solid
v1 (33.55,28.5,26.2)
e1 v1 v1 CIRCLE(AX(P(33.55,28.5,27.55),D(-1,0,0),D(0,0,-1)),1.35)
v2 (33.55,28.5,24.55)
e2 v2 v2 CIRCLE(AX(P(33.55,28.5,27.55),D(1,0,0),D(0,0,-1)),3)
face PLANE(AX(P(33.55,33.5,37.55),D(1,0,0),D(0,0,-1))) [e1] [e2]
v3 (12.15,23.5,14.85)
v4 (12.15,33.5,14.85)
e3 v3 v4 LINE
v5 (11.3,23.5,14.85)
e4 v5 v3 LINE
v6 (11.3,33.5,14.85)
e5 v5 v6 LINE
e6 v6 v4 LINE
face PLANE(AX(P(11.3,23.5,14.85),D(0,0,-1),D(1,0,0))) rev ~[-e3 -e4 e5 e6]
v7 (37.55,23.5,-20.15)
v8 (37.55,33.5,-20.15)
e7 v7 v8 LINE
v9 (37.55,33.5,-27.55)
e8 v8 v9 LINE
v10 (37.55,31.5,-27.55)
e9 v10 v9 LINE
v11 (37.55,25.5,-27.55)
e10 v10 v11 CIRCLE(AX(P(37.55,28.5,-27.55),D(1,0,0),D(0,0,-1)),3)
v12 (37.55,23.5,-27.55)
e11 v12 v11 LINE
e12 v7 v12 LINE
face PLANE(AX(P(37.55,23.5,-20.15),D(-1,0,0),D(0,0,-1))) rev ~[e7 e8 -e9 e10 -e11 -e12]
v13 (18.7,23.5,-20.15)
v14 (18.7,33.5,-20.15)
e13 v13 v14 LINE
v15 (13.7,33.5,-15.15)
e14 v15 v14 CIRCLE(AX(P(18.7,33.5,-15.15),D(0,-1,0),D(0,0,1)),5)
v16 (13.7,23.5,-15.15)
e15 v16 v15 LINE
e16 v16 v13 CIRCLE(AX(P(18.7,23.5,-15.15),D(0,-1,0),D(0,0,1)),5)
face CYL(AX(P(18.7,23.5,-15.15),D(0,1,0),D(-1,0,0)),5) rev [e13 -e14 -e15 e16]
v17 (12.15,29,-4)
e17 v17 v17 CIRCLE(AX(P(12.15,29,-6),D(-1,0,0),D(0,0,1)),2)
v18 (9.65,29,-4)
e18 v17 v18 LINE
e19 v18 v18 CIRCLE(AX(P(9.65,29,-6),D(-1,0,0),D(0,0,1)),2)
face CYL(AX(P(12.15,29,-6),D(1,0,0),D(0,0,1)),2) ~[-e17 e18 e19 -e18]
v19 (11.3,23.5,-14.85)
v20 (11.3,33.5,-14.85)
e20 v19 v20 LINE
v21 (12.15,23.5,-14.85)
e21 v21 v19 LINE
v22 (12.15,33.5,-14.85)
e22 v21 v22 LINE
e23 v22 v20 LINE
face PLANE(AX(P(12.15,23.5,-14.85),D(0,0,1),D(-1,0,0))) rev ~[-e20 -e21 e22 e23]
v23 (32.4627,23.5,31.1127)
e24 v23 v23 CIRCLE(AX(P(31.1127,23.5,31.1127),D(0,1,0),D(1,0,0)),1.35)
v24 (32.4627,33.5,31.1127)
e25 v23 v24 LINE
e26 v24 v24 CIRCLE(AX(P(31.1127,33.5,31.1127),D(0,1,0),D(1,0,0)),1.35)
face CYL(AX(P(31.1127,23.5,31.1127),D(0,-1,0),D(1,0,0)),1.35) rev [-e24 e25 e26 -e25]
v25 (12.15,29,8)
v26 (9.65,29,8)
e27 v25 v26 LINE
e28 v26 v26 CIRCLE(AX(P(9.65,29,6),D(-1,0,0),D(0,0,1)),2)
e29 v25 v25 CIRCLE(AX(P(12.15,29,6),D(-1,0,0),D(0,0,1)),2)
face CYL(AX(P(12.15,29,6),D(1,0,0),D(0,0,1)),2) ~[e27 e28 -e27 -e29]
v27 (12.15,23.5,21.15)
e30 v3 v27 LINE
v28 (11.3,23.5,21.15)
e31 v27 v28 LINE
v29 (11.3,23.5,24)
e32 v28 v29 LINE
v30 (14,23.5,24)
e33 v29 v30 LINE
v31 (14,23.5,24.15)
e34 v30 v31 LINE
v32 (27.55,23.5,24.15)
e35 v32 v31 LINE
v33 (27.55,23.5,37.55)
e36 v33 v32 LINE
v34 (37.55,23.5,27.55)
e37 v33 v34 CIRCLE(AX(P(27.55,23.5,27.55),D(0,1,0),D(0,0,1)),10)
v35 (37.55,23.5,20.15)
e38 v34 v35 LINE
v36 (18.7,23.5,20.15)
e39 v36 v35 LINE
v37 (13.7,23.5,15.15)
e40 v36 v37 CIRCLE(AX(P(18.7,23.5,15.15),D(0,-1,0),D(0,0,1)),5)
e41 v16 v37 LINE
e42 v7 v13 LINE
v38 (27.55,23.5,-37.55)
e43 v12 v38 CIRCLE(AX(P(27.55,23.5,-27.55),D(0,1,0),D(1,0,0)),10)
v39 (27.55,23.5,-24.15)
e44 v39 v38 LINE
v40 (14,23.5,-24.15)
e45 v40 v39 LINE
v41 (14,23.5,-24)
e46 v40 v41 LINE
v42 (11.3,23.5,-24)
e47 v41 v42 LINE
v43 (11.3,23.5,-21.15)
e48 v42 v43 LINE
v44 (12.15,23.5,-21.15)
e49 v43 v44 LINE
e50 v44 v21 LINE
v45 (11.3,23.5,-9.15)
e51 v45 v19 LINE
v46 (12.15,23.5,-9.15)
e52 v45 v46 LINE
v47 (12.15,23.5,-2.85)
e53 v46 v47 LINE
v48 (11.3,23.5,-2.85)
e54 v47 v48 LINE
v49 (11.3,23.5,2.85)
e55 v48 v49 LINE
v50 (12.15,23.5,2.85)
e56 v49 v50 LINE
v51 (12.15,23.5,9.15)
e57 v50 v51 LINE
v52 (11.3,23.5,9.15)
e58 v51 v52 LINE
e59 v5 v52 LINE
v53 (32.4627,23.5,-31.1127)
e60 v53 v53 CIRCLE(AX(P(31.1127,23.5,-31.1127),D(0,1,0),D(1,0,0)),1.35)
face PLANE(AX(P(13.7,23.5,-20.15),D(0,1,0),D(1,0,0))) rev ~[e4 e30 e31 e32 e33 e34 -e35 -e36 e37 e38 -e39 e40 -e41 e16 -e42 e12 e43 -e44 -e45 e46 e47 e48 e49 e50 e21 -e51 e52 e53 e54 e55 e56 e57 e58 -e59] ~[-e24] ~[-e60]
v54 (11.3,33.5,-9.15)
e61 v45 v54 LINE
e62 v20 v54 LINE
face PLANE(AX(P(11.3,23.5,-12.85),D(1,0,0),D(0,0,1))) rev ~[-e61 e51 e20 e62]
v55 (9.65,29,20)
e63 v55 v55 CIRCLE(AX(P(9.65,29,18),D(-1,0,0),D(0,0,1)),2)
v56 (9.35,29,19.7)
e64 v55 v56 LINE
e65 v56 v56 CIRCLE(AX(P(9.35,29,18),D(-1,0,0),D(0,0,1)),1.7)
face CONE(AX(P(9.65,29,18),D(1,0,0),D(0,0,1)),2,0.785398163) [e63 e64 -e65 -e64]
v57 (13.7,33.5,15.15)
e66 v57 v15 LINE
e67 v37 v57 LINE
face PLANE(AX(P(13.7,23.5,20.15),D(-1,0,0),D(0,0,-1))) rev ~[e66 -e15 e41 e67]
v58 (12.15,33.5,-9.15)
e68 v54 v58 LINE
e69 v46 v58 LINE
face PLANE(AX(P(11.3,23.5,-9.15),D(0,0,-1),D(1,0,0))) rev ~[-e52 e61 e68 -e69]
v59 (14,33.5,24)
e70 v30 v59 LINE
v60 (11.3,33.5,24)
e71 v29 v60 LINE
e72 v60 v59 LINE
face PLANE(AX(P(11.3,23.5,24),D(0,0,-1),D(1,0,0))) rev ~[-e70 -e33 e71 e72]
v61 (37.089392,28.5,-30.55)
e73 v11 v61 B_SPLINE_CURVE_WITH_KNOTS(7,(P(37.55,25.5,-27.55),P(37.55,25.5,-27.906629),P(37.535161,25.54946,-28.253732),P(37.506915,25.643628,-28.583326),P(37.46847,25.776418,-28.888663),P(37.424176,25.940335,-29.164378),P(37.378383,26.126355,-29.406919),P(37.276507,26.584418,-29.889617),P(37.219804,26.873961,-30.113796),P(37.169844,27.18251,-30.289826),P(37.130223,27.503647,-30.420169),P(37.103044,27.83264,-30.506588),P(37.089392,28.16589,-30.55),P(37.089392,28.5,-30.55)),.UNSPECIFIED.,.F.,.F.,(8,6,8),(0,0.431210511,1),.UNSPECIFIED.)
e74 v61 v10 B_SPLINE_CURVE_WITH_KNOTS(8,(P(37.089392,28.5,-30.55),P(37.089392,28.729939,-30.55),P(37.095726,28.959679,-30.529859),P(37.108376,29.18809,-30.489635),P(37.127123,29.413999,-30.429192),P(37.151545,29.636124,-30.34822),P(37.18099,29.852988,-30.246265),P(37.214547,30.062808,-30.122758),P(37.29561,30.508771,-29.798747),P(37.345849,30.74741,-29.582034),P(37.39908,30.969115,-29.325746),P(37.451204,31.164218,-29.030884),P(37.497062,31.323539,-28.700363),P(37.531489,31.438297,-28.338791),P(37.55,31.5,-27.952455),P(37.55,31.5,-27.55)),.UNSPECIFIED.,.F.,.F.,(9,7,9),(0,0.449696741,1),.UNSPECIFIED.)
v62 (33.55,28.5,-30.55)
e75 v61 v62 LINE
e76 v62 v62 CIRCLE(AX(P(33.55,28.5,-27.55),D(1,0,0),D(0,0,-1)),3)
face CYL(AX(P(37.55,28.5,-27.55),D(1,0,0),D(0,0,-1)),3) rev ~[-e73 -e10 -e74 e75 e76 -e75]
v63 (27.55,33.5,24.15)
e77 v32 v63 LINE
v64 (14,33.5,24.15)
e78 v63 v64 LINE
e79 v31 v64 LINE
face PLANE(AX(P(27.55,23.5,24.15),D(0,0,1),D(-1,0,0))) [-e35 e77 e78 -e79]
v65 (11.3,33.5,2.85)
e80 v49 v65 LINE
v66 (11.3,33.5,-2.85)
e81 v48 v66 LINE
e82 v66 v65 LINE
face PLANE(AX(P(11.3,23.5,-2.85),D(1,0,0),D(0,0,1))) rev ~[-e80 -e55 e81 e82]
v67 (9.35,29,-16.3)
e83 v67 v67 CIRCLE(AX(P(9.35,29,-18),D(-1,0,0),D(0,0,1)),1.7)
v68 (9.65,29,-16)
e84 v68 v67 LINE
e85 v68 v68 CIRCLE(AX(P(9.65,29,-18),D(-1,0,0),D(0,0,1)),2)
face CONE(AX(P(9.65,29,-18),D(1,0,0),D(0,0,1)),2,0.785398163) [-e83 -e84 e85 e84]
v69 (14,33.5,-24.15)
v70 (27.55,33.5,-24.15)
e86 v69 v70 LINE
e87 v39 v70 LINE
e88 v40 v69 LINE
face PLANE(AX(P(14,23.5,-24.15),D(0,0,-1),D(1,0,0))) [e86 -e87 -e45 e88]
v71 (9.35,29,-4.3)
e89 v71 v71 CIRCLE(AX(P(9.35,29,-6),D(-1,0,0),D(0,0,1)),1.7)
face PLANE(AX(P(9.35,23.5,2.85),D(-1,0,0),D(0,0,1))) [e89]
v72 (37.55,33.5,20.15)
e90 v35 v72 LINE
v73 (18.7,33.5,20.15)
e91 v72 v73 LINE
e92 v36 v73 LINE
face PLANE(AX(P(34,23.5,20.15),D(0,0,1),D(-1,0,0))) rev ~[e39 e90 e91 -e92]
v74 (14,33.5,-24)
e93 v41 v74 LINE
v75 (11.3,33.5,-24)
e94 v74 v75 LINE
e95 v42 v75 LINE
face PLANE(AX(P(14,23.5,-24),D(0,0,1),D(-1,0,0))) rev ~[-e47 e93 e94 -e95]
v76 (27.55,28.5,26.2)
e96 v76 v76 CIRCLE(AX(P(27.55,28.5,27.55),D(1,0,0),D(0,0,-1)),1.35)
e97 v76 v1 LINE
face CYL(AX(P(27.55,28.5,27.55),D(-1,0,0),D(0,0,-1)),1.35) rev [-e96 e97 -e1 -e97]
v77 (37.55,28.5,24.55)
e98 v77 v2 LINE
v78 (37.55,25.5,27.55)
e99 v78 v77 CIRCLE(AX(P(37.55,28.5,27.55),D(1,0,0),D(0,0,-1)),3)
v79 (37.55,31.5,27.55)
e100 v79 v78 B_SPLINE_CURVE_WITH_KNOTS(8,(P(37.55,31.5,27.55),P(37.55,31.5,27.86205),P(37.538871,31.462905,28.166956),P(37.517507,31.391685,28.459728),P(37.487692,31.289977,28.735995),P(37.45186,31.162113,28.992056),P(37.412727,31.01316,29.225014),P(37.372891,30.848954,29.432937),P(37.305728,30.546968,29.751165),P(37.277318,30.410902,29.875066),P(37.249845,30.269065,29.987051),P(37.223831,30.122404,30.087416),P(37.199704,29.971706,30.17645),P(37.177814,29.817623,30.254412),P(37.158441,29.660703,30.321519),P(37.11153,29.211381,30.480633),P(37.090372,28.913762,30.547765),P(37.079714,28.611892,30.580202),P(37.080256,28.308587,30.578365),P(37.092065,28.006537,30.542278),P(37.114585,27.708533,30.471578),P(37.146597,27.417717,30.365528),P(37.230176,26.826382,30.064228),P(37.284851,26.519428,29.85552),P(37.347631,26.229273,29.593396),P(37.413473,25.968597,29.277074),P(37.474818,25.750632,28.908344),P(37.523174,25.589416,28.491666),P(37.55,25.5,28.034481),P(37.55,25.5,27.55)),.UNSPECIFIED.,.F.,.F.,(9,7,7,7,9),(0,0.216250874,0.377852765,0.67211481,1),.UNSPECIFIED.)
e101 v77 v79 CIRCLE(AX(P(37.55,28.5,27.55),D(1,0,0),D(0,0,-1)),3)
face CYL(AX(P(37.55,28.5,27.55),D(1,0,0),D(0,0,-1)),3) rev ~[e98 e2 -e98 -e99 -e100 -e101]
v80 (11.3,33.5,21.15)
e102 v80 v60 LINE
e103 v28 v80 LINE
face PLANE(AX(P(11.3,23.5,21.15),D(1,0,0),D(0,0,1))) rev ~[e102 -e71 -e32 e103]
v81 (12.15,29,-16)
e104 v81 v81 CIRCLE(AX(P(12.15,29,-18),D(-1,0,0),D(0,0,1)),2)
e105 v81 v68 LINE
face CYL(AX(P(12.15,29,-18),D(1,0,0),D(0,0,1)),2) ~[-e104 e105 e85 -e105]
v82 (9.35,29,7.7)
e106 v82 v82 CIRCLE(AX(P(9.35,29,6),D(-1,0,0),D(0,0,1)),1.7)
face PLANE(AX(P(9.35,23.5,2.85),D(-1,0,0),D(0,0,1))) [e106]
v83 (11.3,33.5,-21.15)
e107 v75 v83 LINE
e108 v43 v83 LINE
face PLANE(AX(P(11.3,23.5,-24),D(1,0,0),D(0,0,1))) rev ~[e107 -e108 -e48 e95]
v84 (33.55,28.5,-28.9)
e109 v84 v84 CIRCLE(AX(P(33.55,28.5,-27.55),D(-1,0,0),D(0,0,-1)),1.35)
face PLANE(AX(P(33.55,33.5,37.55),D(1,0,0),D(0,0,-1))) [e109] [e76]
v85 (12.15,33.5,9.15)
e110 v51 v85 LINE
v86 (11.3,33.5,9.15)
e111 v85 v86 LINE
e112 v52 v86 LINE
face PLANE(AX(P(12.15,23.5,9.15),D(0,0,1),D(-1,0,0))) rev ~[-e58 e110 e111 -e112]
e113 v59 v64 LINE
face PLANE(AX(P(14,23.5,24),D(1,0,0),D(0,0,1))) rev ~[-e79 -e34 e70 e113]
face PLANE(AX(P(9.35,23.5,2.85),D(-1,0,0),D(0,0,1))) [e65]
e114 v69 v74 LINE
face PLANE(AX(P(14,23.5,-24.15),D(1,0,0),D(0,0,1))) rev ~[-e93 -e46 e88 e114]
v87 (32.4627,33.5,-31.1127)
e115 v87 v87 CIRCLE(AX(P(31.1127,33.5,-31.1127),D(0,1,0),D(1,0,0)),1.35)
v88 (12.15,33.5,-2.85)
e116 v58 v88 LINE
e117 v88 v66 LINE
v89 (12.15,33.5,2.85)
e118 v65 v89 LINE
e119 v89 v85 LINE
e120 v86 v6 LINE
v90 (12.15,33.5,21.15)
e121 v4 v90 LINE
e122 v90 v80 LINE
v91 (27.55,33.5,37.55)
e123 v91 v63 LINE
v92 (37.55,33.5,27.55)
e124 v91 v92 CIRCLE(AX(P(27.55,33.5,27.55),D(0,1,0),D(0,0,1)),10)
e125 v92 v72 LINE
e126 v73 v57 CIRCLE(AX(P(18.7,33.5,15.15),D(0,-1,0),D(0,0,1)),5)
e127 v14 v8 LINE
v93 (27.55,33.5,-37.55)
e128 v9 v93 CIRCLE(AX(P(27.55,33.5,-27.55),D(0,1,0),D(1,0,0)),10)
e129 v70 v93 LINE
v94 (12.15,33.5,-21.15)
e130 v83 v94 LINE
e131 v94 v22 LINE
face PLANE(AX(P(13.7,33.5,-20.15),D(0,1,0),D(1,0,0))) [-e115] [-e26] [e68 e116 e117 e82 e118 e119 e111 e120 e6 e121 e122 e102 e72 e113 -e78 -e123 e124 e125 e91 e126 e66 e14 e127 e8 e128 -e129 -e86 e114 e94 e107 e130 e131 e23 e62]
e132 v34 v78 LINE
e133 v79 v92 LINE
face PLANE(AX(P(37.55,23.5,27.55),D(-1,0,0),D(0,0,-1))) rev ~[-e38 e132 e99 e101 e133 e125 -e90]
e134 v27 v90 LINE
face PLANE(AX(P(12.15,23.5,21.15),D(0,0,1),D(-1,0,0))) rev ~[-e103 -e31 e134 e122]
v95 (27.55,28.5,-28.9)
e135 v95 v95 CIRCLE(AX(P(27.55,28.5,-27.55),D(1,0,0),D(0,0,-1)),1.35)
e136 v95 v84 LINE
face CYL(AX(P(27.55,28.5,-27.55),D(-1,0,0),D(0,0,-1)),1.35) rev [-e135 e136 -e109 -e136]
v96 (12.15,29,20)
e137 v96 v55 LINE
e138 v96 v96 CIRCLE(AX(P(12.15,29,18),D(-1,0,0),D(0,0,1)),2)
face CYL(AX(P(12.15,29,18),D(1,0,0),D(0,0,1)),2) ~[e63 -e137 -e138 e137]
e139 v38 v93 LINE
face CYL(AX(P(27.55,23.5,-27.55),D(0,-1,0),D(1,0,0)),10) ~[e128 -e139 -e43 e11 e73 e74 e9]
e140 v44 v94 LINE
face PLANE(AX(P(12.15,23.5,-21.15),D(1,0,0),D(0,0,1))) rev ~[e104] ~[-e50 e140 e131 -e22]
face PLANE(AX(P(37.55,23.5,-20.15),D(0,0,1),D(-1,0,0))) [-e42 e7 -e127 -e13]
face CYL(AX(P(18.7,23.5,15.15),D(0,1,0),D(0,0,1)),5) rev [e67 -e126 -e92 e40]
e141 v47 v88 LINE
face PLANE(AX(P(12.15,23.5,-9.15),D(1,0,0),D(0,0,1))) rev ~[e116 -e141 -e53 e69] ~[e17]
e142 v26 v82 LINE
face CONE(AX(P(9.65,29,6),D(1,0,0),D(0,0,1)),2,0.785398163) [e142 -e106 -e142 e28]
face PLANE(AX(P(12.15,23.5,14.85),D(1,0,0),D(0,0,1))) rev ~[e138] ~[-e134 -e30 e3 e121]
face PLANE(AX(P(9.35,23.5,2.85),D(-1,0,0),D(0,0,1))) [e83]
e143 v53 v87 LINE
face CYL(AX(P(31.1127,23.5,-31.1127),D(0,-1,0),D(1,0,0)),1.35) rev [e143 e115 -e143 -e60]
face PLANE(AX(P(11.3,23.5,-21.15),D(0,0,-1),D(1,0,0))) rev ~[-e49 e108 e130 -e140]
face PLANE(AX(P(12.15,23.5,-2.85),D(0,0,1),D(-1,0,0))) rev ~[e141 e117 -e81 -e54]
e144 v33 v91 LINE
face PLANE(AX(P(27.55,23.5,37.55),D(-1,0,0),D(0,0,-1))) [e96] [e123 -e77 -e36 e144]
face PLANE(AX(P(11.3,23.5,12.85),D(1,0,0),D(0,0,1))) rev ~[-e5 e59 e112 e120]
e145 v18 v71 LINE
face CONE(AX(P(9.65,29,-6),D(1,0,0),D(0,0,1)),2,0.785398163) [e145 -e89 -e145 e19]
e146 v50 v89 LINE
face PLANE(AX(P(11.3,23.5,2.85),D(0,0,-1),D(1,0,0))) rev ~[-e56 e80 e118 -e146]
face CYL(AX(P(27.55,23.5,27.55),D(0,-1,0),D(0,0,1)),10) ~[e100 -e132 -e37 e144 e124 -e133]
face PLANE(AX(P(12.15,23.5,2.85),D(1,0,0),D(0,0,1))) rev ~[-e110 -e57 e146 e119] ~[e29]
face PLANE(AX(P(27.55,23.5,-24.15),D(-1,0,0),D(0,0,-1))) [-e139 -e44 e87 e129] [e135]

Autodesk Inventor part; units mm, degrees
ref_plane "YZ Plane" through (0, 0, 0) normal (1, 0, 0) x (0, 1, 0)
ref_plane "XZ Plane" through (0, 0, 0) normal (0, 1, 0) x (-1, 0, 0)
ref_plane "XY Plane" through (0, 0, 0) normal (0, 0, 1) x (1, 0, 0)
sketch "スケッチ1" plane through (0, 0, 0) normal (0, 1, 0) x (-1, 0, 0)
  line L0 (37.55, 37.55) -> (-37.55, 37.55)
  line L1 (-37.55, 37.55) -> (-37.55, -37.55)
  line L2 (-37.55, -37.55) -> (37.55, -37.55)
  line L3 (37.55, -37.55) -> (37.55, 37.55)
  line L4 (37.55, 37.55) -> (-37.55, -37.55) construction
  line L5 (-37.55, 37.55) -> (37.55, -37.55) construction
  line L6 (36.55, 36.55) -> (-36.55, 36.55)
  line L7 (-36.55, 36.55) -> (-36.55, -36.55)
  line L8 (-36.55, -36.55) -> (36.55, -36.55)
  line L9 (36.55, -36.55) -> (36.55, 36.55)
  line L10 (52.57, 0) -> (-52.57, 0) construction
  line L11 (0, -52.57) -> (0, 52.57) construction
  line L12 (14, -25) -> (-14, -25)
  line L13 (-14, -25) -> (-14, -35.5)
  line L14 (-14, -35.5) -> (14, -35.5)
  line L15 (14, -35.5) -> (14, -25)
  line L16 (14, -25) -> (-14, -35.5) construction
  line L17 (-14, -25) -> (14, -35.5) construction
  line L18 (0, 37.55) -> (0, -37.55) construction
  circle A0 centre (-13.68, -10.17) radius 1.6
  line L19 (14, -30.25) -> (-14, -30.25) construction
  line L20 (-11.15, 0) -> (-11.15, -24)
  line L21 (11.15, -24) -> (11.15, 0)
  line L22 (-11.15, 12.7) -> (-36.55, 12.7)
  line L23 (-36.55, 12.7) -> (-36.55, -12.7) construction
  line L24 (-36.55, -12.7) -> (-11.15, -12.7)
  line L25 (-11.15, -12.7) -> (-11.15, 12.7) construction
  line L26 (-11.15, 12.7) -> (-36.55, -12.7) construction
  line L27 (-36.55, 12.7) -> (-11.15, -12.7) construction
  line L28 (-13.68, 10.17) -> (-34.02, 10.17) construction
  line L29 (-34.02, 10.17) -> (-34.02, -10.17) construction
  line L30 (-34.02, -10.17) -> (-13.68, -10.17) construction
  line L31 (-13.68, -10.17) -> (-13.68, 10.17) construction
  line L32 (-13.68, 10.17) -> (-34.02, -10.17) construction
  line L33 (-34.02, 10.17) -> (-13.68, -10.17) construction
  circle A1 centre (-13.68, 10.17) radius 1.6
  circle A2 centre (-34.02, 10.17) radius 1.6
  circle A3 centre (-34.02, -10.17) radius 1.6
  line L34 (11.15, 0) -> (-11.15, 0) construction
  line L35 (11.15, -24) -> (-11.15, -24)
  line L36 (8.8, -24) -> (-8.8, -24) construction
  line L37 (-8.8, -24) -> (-8.8, -27)
  line L38 (-8.8, -27) -> (8.8, -27)
  line L39 (8.8, -27) -> (8.8, -24)
  line L40 (8.8, -24) -> (-8.8, -27) construction
  line L41 (-8.8, -24) -> (8.8, -27) construction
  line L42 (11.15, -3) -> (12, -3)
  line L43 (12, -3) -> (12, -9)
  line L44 (12, -9) -> (11.15, -9)
  line L45 (11.15, -12) -> (-11.15, -12) construction
  line L46 (12, -6) -> (-12, -6) construction
  line L47 (11.15, -21) -> (12, -21)
  line L48 (12, -21) -> (12, -15)
  line L49 (12, -15) -> (11.15, -15)
  line L50 (-11.15, -3) -> (-12, -3)
  line L51 (-12, -3) -> (-12, -9)
  line L52 (-12, -9) -> (-11.15, -9)
  line L53 (-12, -15) -> (-11.15, -15)
  line L54 (-12, -21) -> (-12, -15)
  line L55 (-11.15, -21) -> (-12, -21)
  line L56 (14, 25) -> (-14, 25)
  line L57 (-14, 25) -> (-14, 35.5)
  line L58 (-14, 35.5) -> (14, 35.5)
  line L59 (14, 35.5) -> (14, 25)
  line L60 (-11.15, 0) -> (-11.15, 24)
  line L61 (11.15, 24) -> (11.15, 0)
  line L62 (11.15, 24) -> (-11.15, 24)
  line L63 (8.8, 24) -> (-8.8, 24) construction
  line L64 (-8.8, 24) -> (-8.8, 27)
  line L65 (-8.8, 27) -> (8.8, 27)
  line L66 (8.8, 27) -> (8.8, 24)
  line L67 (11.15, 3) -> (12, 3)
  line L68 (12, 3) -> (12, 9)
  line L69 (12, 9) -> (11.15, 9)
  line L70 (12, 15) -> (11.15, 15)
  line L71 (12, 21) -> (12, 15)
  line L72 (11.15, 21) -> (12, 21)
  line L73 (-12, 3) -> (-12, 9)
  line L74 (-11.15, 3) -> (-12, 3)
  line L75 (-12, 9) -> (-11.15, 9)
  line L76 (-12, 21) -> (-12, 15)
  line L77 (-12, 15) -> (-11.15, 15)
  line L78 (-11.15, 21) -> (-12, 21)
  line L79 (15, 33.5) -> (29, 33.5)
  line L80 (29, 33.5) -> (29, -33.5)
  line L81 (29, -33.5) -> (15, -33.5)
  line L82 (15, -33.5) -> (15, 33.5)
  line L83 (15, 33.5) -> (29, -33.5) construction
  line L84 (29, 33.5) -> (15, -33.5) construction
  line L85 (-33.85, 20) -> (-13.85, 20)
  line L86 (-13.85, 20) -> (-13.85, -20)
  line L87 (-13.85, -20) -> (-33.85, -20)
  line L88 (-33.85, -20) -> (-33.85, 20)
  line L89 (-33.85, 20) -> (-13.85, -20) construction
  line L90 (-13.85, 20) -> (-33.85, -20) construction
  line L91 (37.55, 25.5) -> (15, 25.5) construction
  circle A4 centre (-21, -30.25) radius 3.1
  line L92 (-21, -37.55) -> (-21, 37.55) construction
  circle A5 centre (-21, 30.25) radius 3.1
  circle A6 centre (21, -30.25) radius 3.1
  circle A7 centre (21, 30.25) radius 3.1
  circle A8 centre (-21, -30.25) radius 4.1
  circle A9 centre (-21, 30.25) radius 4.1
  circle A10 centre (21, -30.25) radius 4.1
  circle A11 centre (21, 30.25) radius 4.1
  circle A12 centre (33, 0) radius 2.6
  circle A13 centre (33, 0) radius 3.5
  circle A14 centre (-33, 0) radius 2.6
  circle A15 centre (-33, 0) radius 3.5
  line L93 (-27.85, 4) -> (-19.85, 4)
  line L94 (-19.85, 4) -> (-19.85, -4)
  line L95 (-19.85, -4) -> (-27.85, -4)
  line L96 (-27.85, -4) -> (-27.85, 4)
  line L97 (-27.85, 4) -> (-19.85, -4) construction
  line L98 (-19.85, 4) -> (-27.85, -4) construction
  line L99 (26, -34) -> (18, -34)
  line L100 (18, -34) -> (18, -33.5)
  line L101 (18, -33.5) -> (26, -33.5) construction
  line L102 (26, -33.5) -> (26, -34)
  line L103 (26, -34) -> (18, -33.5) construction
  line L104 (18, -34) -> (26, -33.5) construction
  line L105 (22, -33.5) -> (22, 33.5) construction
  line L106 (-11.15, 24) -> (-11.15, 25)
  line L107 (11.15, 24) -> (11.15, 25)
  line L108 (11.15, -24) -> (11.15, -25)
  line L109 (-11.15, -24) -> (-11.15, -25)
  line L110 (14, 25) -> (14, 24)
  line L111 (14, 24) -> (11.15, 24)
  line L112 (-11.15, 24) -> (-14, 24)
  line L113 (-14, 24) -> (-14, 25)
  line L114 (14, -25) -> (14, -24)
  line L115 (14, -24) -> (11.15, -24)
  line L116 (-11.15, -24) -> (-14, -24)
  line L117 (-14, -24) -> (-14, -25)
  point P0 (0, 0)
  point P1 (0, -30.25)
  point P2 (-23.85, 0)
  point P3 (0, -25.5)
  point P4 (0, 0)
  point P5 (0, -6)
  point P6 (-12, 6)
  point P7 (12, 6)
  point P8 (22, 0)
  point P9 (-23.85, 0)
  point P10 (22, -33.75)
  dimension "d1" = 1
  dimension "d2" = 10.5
  dimension "d3" = 28
  dimension "d5" = 3.2
  dimension "d11" = 25.4
  dimension "d12" = 20.34
  dimension "d15" = 360
  dimension "d18" = 22.3
  dimension "d19" = 17.6
  dimension "d20" = 27
  dimension "d21" = 24
  dimension "d22" = 1
  dimension "d25" = 24
  dimension "d26" = 12
  dimension "d27" = 6
  dimension "d32" = 67
  dimension "d33" = 14
  dimension "d34" = 1
  dimension "d35" = 40
  dimension "d36" = 20
  dimension "d41" = 8
  dimension "d47" = 6.2
  dimension "d48" = 7
  dimension "d49" = 1
  dimension "d54" = 5.2
  dimension "d55" = 7
  dimension "d56" = 33
  dimension "d86" = 8
  dimension "d110" = 8
  dimension "d111" = 0.5
extrude "押し出し3" add sketch "スケッチ1" along normal blind 33.5 contours L3 L2 L1 L0 | L9 L8 L7 L24 L88 L87 L86 L20 L53 L54 L55 L116 L117 L13 L14 L15 L114 L115 L21 L47 L48 L49 L44 L43 L42 L61 L67 L68 L69 L70 L71 L72 L111 L110 L59 L58 L57 L113 L112 L60 L78 L76 L77 L22 L85 L6 | L22 L88 A2 A15 A3 L24 L7 | L88 L85 L86 L22 | L22 L86 A1 A0 L24 L88 A3 A15 A2 | L24 L86 L87 L88 | L22 L60 L75 L73 L74 L20 L50 L51 L52 L24 L86 A0 A1 | L88 A2 | A2 L88 | L88 A3 | A3 L88 | L60 L62 L61 L21 L35 L20 | L86 A1 | A1 L86 | L86 A0 | A0 L86 | L60 L74 L73 L75 | L77 L76 L78 L60 | A15 L88 A14 | L88 A14 A15 | L52 L51 L50 L20 | L20 L55 L54 L53 | A14 L88 | L88 A14 | L106 L56 L64 L62 | L112 L113 L56 L106 | L35 L37 L12 L109 | L109 L12 L117 L116 | L64 L56 L66 L62 | L56 L57 L58 L59 L66 L65 L64 | L35 L39 L12 L37 | L12 L37 L38 L39 L15 L14 L13 | L66 L56 L107 L62 | L64 L65 L66 L56 | L35 L108 L12 L39 | L12 L39 L38 L37 | L107 L56 L110 L111 | L115 L114 L12 L108 | L72 L71 L70 L61 | L21 L49 L48 L47 | L69 L68 L67 L61 | L21 L42 L43 L44 | L79 A11 L80 L81 A10 L82 | A11 L79 | L79 A11 | L81 A10 L99 L100 | A10 L81 | L81 A10 L99 | L81 L102 L99 A10 | L99 A10 | A4 | A5 | A6 | A7 | A8 | A9 | A12 | A13 | L93 L94 L95 L96
fillet "フィレット1" radius 10 4 edges at (37.55, 16.75, 37.55) (37.55, 16.75, -37.55) (-37.55, 16.75, -37.55) (-37.55, 16.75, 37.55)
extrude "押し出し11" cut sketch "スケッチ1" along normal through all contours L56 L57 L58 L59 L66 L65 L64 | L12 L37 L38 L39 L15 L14 L13 | L64 L65 L66 L56 | L12 L39 L38 L37
extrude "押し出し12" cut sketch "スケッチ1" along normal blind 1.5 contours A4 | A5 | A6 | A7
extrude "押し出し13" cut sketch "スケッチ1" along normal blind 1.5 contours A14 L88 | L88 A14 | A12
sketch "スケッチ5" plane through (0, 0, 0) normal (0, 1, 0) x (-1, 0, 0)
  line L0 (-12, 9) -> (-11.15, 9) projected
  line L1 (-11.15, 0) -> (-11.15, 24) projected
  line L2 (-12, 3) -> (-12, 9) projected
  line L3 (-11.15, 3) -> (-12, 3) projected
  line L4 (-12, 15) -> (-11.15, 15) projected
  line L5 (-12, 21) -> (-12, 15) projected
  line L6 (11.15, 3) -> (12, 3) projected
  line L7 (-11.15, 21) -> (-12, 21) projected
  line L8 (11.15, 21) -> (12, 21) projected
  line L9 (11.15, 24) -> (-11.15, 24) projected
  line L10 (-8.8, 24) -> (-8.8, 27) projected
  line L11 (8.8, 24) -> (-8.8, 24) construction
  line L12 (8.8, 27) -> (8.8, 24) projected
  line L13 (-8.8, 27) -> (8.8, 27) projected
  line L14 (11.15, 0) -> (-11.15, 0) construction
  line L15 (11.15, -12) -> (-11.15, -12) construction
  line L16 (12, -9) -> (11.15, -9) projected
  line L17 (11.15, -3) -> (12, -3) projected
  line L18 (12, -3) -> (12, -9) projected
  line L19 (12, -6) -> (-12, -6) construction
  line L20 (-12, -9) -> (-11.15, -9) projected
  line L21 (-12, -3) -> (-12, -9) projected
  line L22 (-11.15, -3) -> (-12, -3) projected
  line L23 (-11.15, -12.7) -> (-11.15, 12.7) construction
  line L24 (-11.15, 0) -> (-11.15, -24) projected
  line L25 (11.15, -24) -> (11.15, 0) projected
  line L26 (12, -15) -> (11.15, -15) projected
  line L27 (12, -21) -> (12, -15) projected
  line L28 (12, 9) -> (11.15, 9) projected
  line L29 (12, 3) -> (12, 9) projected
  line L30 (12, 15) -> (11.15, 15) projected
  line L31 (12, 21) -> (12, 15) projected
  line L32 (11.15, 24) -> (11.15, 0) projected
  line L33 (11.15, -24) -> (-11.15, -24) projected
  line L34 (8.8, -24) -> (-8.8, -24) construction
  line L35 (-12, -15) -> (-11.15, -15) projected
  line L36 (-12, -21) -> (-12, -15) projected
  line L37 (-11.15, -21) -> (-12, -21) projected
  line L38 (11.15, -21) -> (12, -21) projected
  line L39 (-8.8, -27) -> (8.8, -27) projected
  line L40 (-8.8, -24) -> (-8.8, -27) projected
  line L41 (8.8, -27) -> (8.8, -24) projected
  line L42 (-11.15, -14.85) -> (-12.15, -14.85)
  line L43 (-12.15, -14.85) -> (-12.15, -21.15)
  line L44 (-12.15, -21.15) -> (-11.15, -21.15)
  line L45 (-11.15, -9.15) -> (-12.15, -9.15)
  line L46 (-12.15, -9.15) -> (-12.15, -2.85)
  line L47 (-12.15, -2.85) -> (-11.15, -2.85)
  line L48 (11.15, -14.85) -> (12.15, -14.85)
  line L49 (12.15, -14.85) -> (12.15, -21.15)
  line L50 (12.15, -21.15) -> (11.15, -21.15)
  line L51 (11.15, -9.15) -> (12.15, -9.15)
  line L52 (12.15, -9.15) -> (12.15, -2.85)
  line L53 (12.15, -2.85) -> (11.15, -2.85)
  line L54 (-11.15, 9.15) -> (-12.15, 9.15)
  line L55 (-12.15, 9.15) -> (-12.15, 2.85)
  line L56 (-12.15, 2.85) -> (-11.15, 2.85)
  line L57 (-11.15, 14.85) -> (-12.15, 14.85)
  line L58 (-12.15, 14.85) -> (-12.15, 21.15)
  line L59 (-12.15, 21.15) -> (-11.15, 21.15)
  line L60 (11.15, 14.85) -> (12.15, 14.85)
  line L61 (12.15, 14.85) -> (12.15, 21.15)
  line L62 (12.15, 21.15) -> (11.15, 21.15)
  line L63 (-11.3, -24.15) -> (-11.3, 0)
  line L64 (-11.3, 0) -> (-11.3, 24.15)
  line L65 (-11.3, 24.15) -> (11.3, 24.15)
  line L66 (11.3, 24.15) -> (11.3, 0)
  line L67 (11.3, 0) -> (11.3, -24.15)
  line L68 (11.3, -24.15) -> (-11.3, -24.15)
  line L69 (8.95, 27.15) -> (8.95, 23.85)
  line L70 (8.95, 23.85) -> (-8.95, 23.85)
  line L71 (-8.95, 23.85) -> (-8.95, 27.15)
  line L72 (-8.95, 27.15) -> (8.95, 27.15)
  line L73 (8.95, -27.15) -> (-8.95, -27.15)
  line L74 (-8.95, -27.15) -> (-8.95, -23.85)
  line L75 (-8.95, -23.85) -> (8.95, -23.85)
  line L76 (8.95, -23.85) -> (8.95, -27.15)
  line L77 (11.15, 9.15) -> (12.15, 9.15)
  line L78 (12.15, 9.15) -> (12.15, 2.85)
  line L79 (12.15, 2.85) -> (11.15, 2.85)
  point P0 (0, 0)
  point P1 (0, 0)
  point P2 (-12, 6)
  point P3 (12, 6)
  point P4 (0, -6)
  point P5 (0, 0)
  point P6 (-11.3, -14.85)
  point P7 (-11.3, -21.15)
  point P8 (-8.95, -24.15)
  point P9 (8.95, -24.15)
  point P10 (11.3, -21.15)
  point P11 (11.3, -14.85)
  point P12 (11.3, -9.15)
  point P13 (11.3, -2.85)
  point P14 (11.3, 2.85)
  point P15 (11.3, 9.15)
  point P16 (11.3, 14.85)
  point P17 (11.3, 21.15)
  point P18 (8.95, 24.15)
  point P19 (-8.95, 24.15)
  point P20 (-11.3, 21.15)
  point P21 (-11.3, 14.85)
  point P22 (-11.3, 9.15)
  point P23 (-11.3, 2.85)
  point P24 (-11.3, -2.85)
  point P25 (-11.3, -9.15)
  dimension "d73" = 0.15
  dimension "d74" = 0.15
  dimension "d75" = 0.15
  dimension "d76" = 0.15
  dimension "d77" = 0.15
  dimension "d78" = 0.15
  dimension "d79" = 0.15
  dimension "d80" = 0.15
  dimension "d81" = 0.15
  dimension "d82" = 0.15
  dimension "d83" = 0.15
extrude "押し出し14" cut sketch "スケッチ5" against normal blind 31.5 from surface at 33.5
sketch "スケッチ6" plane through (0, 0, 0) normal (0, 1, 0) x (-1, 0, 0)
  line L0 (-11.15, 12.7) -> (-36.55, 12.7) projected
  circle A0 centre (-13.68, 10.17) radius 1.6 projected
  line L1 (-11.15, 0) -> (-11.15, 24) projected
  line L2 (-11.15, 0) -> (-11.15, -24) projected
  line L3 (-36.55, -12.7) -> (-11.15, -12.7) projected
  line L4 (-36.55, 12.7) -> (-36.55, -12.7) construction
  circle A1 centre (-34.02, -10.17) radius 1.6 projected
  circle A2 centre (-34.02, 10.17) radius 1.6 projected
  circle A3 centre (-13.68, -10.17) radius 1.6 projected
  line L5 (-11.15, 12.85) -> (-36.7, 12.85)
  line L6 (-36.7, 12.85) -> (-36.7, -12.85)
  line L7 (-36.7, -12.85) -> (-11.15, -12.85)
  circle A4 centre (-13.68, 10.17) radius 3
  circle A5 centre (-34.02, 10.17) radius 3
  circle A6 centre (-13.68, -10.17) radius 3
  circle A7 centre (-34.02, -10.17) radius 3
  point P0 (0, 0)
  point P1 (-36.7, -11.5182)
  point P2 (-36.7, -8.8218)
  point P3 (-32.6718, -12.85)
  point P4 (-35.3682, -12.85)
  point P5 (-36.7, 8.8218)
  point P6 (-36.7, 11.5182)
  point P7 (-35.3682, 12.85)
  point P8 (-32.6718, 12.85)
  dimension "d89" = 0.15
  dimension "d92" = 6
extrude "押し出し16" cut sketch "スケッチ6" against normal blind 19.5 from surface at 33.5 contours L1 A4 L0 | L0 A4 L5 L1 | A4 L1 L0 | L0 A4 L5 | A4 L1 L2 A6 L3 A7 L6 A5 L0 | L0 A5 L5 A4 | A5 L6 L0 | L0 A5 L5 | A5 L6 L5 | L5 A5 | L2 A6 L3 | L6 A5 | L2 L3 A6 | A6 L7 A7 L3 | L3 A6 L7 | A7 L3 L6 | L6 A7 | L2 L7 A6 L3 | A7 L7 L3 | A7 L7 L6 | A7 L7 | A0 | A1 | A2 | A3
extrude "押し出し15" cut sketch "スケッチ1" along normal through all contours L88 A2 | A2 L88 | L88 A3 | A3 L88 | L86 A1 | A1 L86 | L86 A0 | A0 L86 | L93 L94 L95 L96
extrude "押し出し17" cut sketch "スケッチ6" along normal blind 4 contours A5 L6 L0 | L0 A5 L5 | L5 A5 | L6 A5 | A7 L3 L6 | L6 A7 | A7 L7 L3 | A7 L7 | A1 | A2
sketch "スケッチ7" plane through (0, 0, 0) normal (0, 1, 0) x (-1, 0, 0)
  line L0 (-33.85, 20) -> (-13.85, 20) projected
  line L1 (-13.85, 20) -> (-13.85, -20) projected
  line L2 (-33.85, -20) -> (-33.85, 20) projected
  line L3 (-13.85, -20) -> (-33.85, -20) projected
  line L4 (-13.7, 20.15) -> (-34, 20.15)
  line L5 (-34, 20.15) -> (-34, -20.15)
  line L6 (-34, -20.15) -> (-13.7, -20.15)
  line L7 (-13.7, -20.15) -> (-13.7, 20.15)
  point P0 (0, 0)
  dimension "d95" = 0.15
extrude "押し出し18" cut sketch "スケッチ7" against normal blind 14.5 from surface at 33.5 contours L0 L1 L3 L2 | L7 L6 L5 L4
sketch "スケッチ9" plane through (0, 0, 0) normal (0, 1, 0) x (-1, 0, 0)
  line L0 (29, 33.5) -> (29, -33.5) projected
  line L1 (29, -33.5) -> (15, -33.5) projected
  line L2 (15, -33.5) -> (15, 33.5) projected
  line L3 (15, 33.5) -> (29, 33.5) projected
  line L4 (29.15, -33.65) -> (29.15, 33.65)
  line L5 (29.15, 33.65) -> (14.85, 33.65)
  line L6 (14.85, 33.65) -> (14.85, -33.65)
  line L7 (14.85, -33.65) -> (29.15, -33.65)
  line L8 (15, -33.5) -> (15, -33.65)
  line L9 (15, 33.5) -> (15, 33.65)
  line L10 (26, -33.5) -> (26, -34) projected
  line L11 (26, -34) -> (18, -34) projected
  line L12 (18, -34) -> (18, -33.5) projected
  line L13 (16, -33.5) -> (16, -36)
  line L14 (16, -36) -> (28, -36)
  line L15 (28, -36) -> (28, -33.5)
  line L16 (28, -36) -> (28, -39.9042)
  line L17 (28, -39.9042) -> (16, -39.9042)
  line L18 (16, -39.9042) -> (16, -36)
  line L19 (17, -33.5) -> (17, -35)
  line L20 (17, -35) -> (27, -35)
  line L21 (27, -35) -> (27, -33.5)
  point P0 (0, 0)
  point P1 (22, -33.5)
  point P2 (18, -33.65)
  point P3 (26, -33.65)
  point P4 (17, -33.65)
  point P5 (27, -33.65)
  dimension "d109" = 0.15
  dimension "d113" = 12
  dimension "d116" = 10
extrude "押し出し21" cut sketch "スケッチ9" against normal blind 31.25 from surface at 33.5 contours L3 L9 L5 L4 L7 L15 L1 L0 | L0 L1 L2 L3 | L2 L8 L7 L6 L5 L9 | L15 L7 L21 L1 | L1 L13 L7 L8 | L21 L7 L10 L1 | L1 L19 L7 L13 | L10 L7 L12 L1 | L21 L20 L19 L7 L12 L11 L10 | L1 L12 L7 L19 | L10 L11 L12 L7
sketch "スケッチ8" plane through (0, 0, 0) normal (1, 0, 0) x (0, 1, 0)
  line L0 (-10.4294, 0) -> (62.5761, 0) construction
  line L1 (0, -52.2157) -> (0, 71.794) construction
  line L2 (30.25, -33.5) -> (3.25, -33.5)
  line L3 (3.25, -33.5) -> (3.25, 33.5)
  line L4 (3.25, 33.5) -> (30.25, 33.5)
  line L5 (30.25, 33.5) -> (30.25, -33.5)
  line L6 (30.25, -33.5) -> (3.25, 33.5) construction
  line L7 (3.25, -33.5) -> (30.25, 33.5) construction
  line L8 (31.25, -34.5) -> (2.25, -34.5)
  line L9 (2.25, -34.5) -> (2.25, 34.5)
  line L10 (2.25, 34.5) -> (31.25, 34.5)
  line L11 (31.25, 34.5) -> (31.25, -34.5)
  line L12 (20.75, 33.5) -> (12.75, 33.5) construction
  line L13 (12.75, 33.5) -> (12.75, 34)
  line L14 (12.75, 34) -> (20.75, 34)
  line L15 (20.75, 34) -> (20.75, 33.5)
  line L16 (20.75, 33.5) -> (12.75, 34) construction
  line L17 (12.75, 33.5) -> (20.75, 34) construction
  line L18 (16.75, -33.5) -> (16.75, 33.5) construction
  line L19 (52.1468, -21.2895) -> (31.25, -21.2895)
  line L20 (31.25, -21.2895) -> (31.25, 21.2895) construction
  line L21 (31.25, 21.2895) -> (52.1468, 21.2895)
  line L22 (52.1468, 21.2895) -> (52.1468, -21.2895)
  line L23 (52.1468, -21.2895) -> (31.25, 21.2895) construction
  line L24 (31.25, -21.2895) -> (52.1468, 21.2895) construction
  line L25 (22.75, 33.5) -> (10.75, 33.5) construction
  line L26 (10.75, 33.5) -> (10.75, 54.0784)
  line L27 (10.75, 54.0784) -> (22.75, 54.0784)
  line L28 (22.75, 54.0784) -> (22.75, 33.5)
  line L29 (22.75, 33.5) -> (10.75, 54.0784) construction
  line L30 (10.75, 33.5) -> (22.75, 54.0784) construction
  line L31 (31.25, -26) -> (2.25, -26)
  line L32 (31.25, 26) -> (2.25, 26)
  point P0 (0, 0)
  point P1 (16.75, 0)
  point P2 (16.75, 33.75)
  point P3 (41.6984, 0)
  point P4 (16.75, 43.7892)
  point P5 (10.75, 34.5)
  point P6 (22.75, 34.5)
  point P7 (30.25, 26)
  point P8 (3.25, 26)
  point P9 (3.25, -26)
  point P10 (30.25, -26)
  dimension "d98" = 27
  dimension "d99" = 67
  dimension "d100" = 1
  dimension "d101" = 0.5
  dimension "d102" = 8
  dimension "d103" = 16.75
  dimension "d106" = 12
  dimension "d117" = 26
extrude "押し出し22" cut sketch "スケッチ8" against normal blind 31.25 from surface at -29.15 contours L31 L3 L32 L5 | L5 L32 L11 L31 | L11 L21 L22 L19
sketch "スケッチ10" plane through (0, 0, 0) normal (0, 0, 1) x (1, 0, 0)
  line L0 (-15, 22.75) -> (-29, 22.75)
  line L1 (-29, 22.75) -> (-29, 10.75)
  line L2 (-29, 10.75) -> (-15, 10.75)
  line L3 (-15, 10.75) -> (-15, 22.75)
  line L4 (-15, 22.75) -> (-29, 10.75) construction
  line L5 (-29, 22.75) -> (-15, 10.75) construction
  line L6 (-34.8, 0) -> (5.8, 0) construction
  point P0 (0, 0)
  point P1 (-15, 0)
  point P2 (-15, 0)
  point P3 (-15, 0)
  point P4 (-22, 16.75)
  dimension "d120" = 14
  dimension "d121" = 12
  dimension "d122" = 16.75
  dimension "d123" = 7
extrude "押し出し23" cut sketch "スケッチ10" along normal through all both and the other way through all
sketch "スケッチ11" plane through (0, 0, 0) normal (0, 1, 0) x (-1, 0, 0)
  circle A0 centre (31.1127, 31.1127) radius 1.35
  line L0 (37.55, 37.55) -> (-37.55, -37.55) construction
  line L1 (-37.55, 37.55) -> (37.55, -37.55) construction
  circle A1 centre (0, 0) radius 44 construction
  circle A2 centre (-31.1127, 31.1127) radius 1.35
  circle A3 centre (-31.1127, -31.1127) radius 1.35
  circle A4 centre (31.1127, -31.1127) radius 1.35
  circle A5 centre (31.1127, 31.1127) radius 2.5
  circle A6 centre (-31.1127, 31.1127) radius 2.5
  circle A7 centre (-31.1127, -31.1127) radius 2.5
  circle A8 centre (31.1127, -31.1127) radius 2.5
  dimension "d127" = 88
  dimension "d126" = 2.7
  dimension "d130" = 360
  dimension "d132" = 5
  dimension "d135" = 360
extrude "押し出し24" cut sketch "スケッチ11" along normal blind 19.5 contours A0 | A2 | A3 | A4 | A5 | A6 | A7 | A8
extrude "押し出し25" cut sketch "スケッチ11" along normal through all contours A0 | A2 | A3 | A4
sketch "スケッチ12" plane through (0, 33.5, 0) normal (0, 1, 0) x (1, 0, 0)
  point P0 (0, 0)
sketch "スケッチ13" plane through (0, 0, 0) normal (0, 1, 0) x (-1, 0, 0)
  circle A0 centre (-31.1127, -31.1127) radius 1.35 projected
  circle A1 centre (-31.1127, 31.1127) radius 1.35 projected
  circle A2 centre (31.1127, -31.1127) radius 1.35 projected
  circle A3 centre (31.1127, 31.1127) radius 1.35 projected
  line L0 (11.3, -21.15) -> (11.3, -24.15) projected
  line L1 (11.3, -24.15) -> (8.95, -24.15) projected
  line L2 (8.95, -24.15) -> (8.95, -25) projected
  line L3 (8.95, -25) -> (14, -25) projected
  line L4 (14, -25) -> (14, -35.5) projected
  line L5 (14, -35.5) -> (-14, -35.5) projected
  line L6 (-14, -35.5) -> (-14, -25) projected
  line L7 (-14, -25) -> (-8.95, -25) projected
  line L8 (-8.95, -25) -> (-8.95, -24.15) projected
  line L9 (-8.95, -24.15) -> (-11.3, -24.15) projected
  line L10 (-11.3, -24.15) -> (-11.3, -21.15) projected
  line L11 (-11.3, -21.15) -> (-12.15, -21.15) projected
  line L12 (-12.15, -21.15) -> (-12.15, -14.85) projected
  line L13 (-12.15, -14.85) -> (-11.3, -14.85) projected
  line L14 (-11.3, -14.85) -> (-11.3, -12.85) projected
  line L15 (-11.3, -12.85) -> (-13.7, -12.85) projected
  line L16 (-13.7, -12.85) -> (-13.7, -20.15) projected
  line L17 (-13.7, -20.15) -> (-34, -20.15) projected
  line L18 (-34, -20.15) -> (-34, -13.1699) projected
  arc A4 (-35.3682, -12.85) -> (-34, -13.1699) centre (-34.02, -10.17) ccw projected
  line L19 (-35.3682, -12.85) -> (-36.7, -12.85) projected
  line L20 (-36.7, -12.85) -> (-36.7, -11.5182) projected
  arc A5 (-36.7, -8.8218) -> (-36.7, -11.5182) centre (-34.02, -10.17) ccw projected
  line L21 (-36.7, -8.8218) -> (-36.7, 8.8218) projected
  arc A6 (-36.7, 11.5182) -> (-36.7, 8.8218) centre (-34.02, 10.17) ccw projected
  line L22 (-36.7, 11.5182) -> (-36.7, 12.85) projected
  line L23 (-36.7, 12.85) -> (-35.3682, 12.85) projected
  arc A7 (-34, 13.1699) -> (-35.3682, 12.85) centre (-34.02, 10.17) ccw projected
  line L24 (-34, 13.1699) -> (-34, 20.15) projected
  line L25 (-34, 20.15) -> (-13.7, 20.15) projected
  line L26 (-13.7, 20.15) -> (-13.7, 12.85) projected
  line L27 (-13.7, 12.85) -> (-11.3, 12.85) projected
  line L28 (-11.3, 12.85) -> (-11.3, 14.85) projected
  line L29 (-11.3, 14.85) -> (-12.15, 14.85) projected
  line L30 (-12.15, 14.85) -> (-12.15, 21.15) projected
  line L31 (-12.15, 21.15) -> (-11.3, 21.15) projected
  line L32 (-11.3, 21.15) -> (-11.3, 24.15) projected
  line L33 (-11.3, 24.15) -> (-8.95, 24.15) projected
  line L34 (-8.95, 24.15) -> (-8.95, 25) projected
  line L35 (-8.95, 25) -> (-14, 25) projected
  line L36 (-14, 25) -> (-14, 35.5) projected
  line L37 (-14, 35.5) -> (14, 35.5) projected
  line L38 (14, 35.5) -> (14, 25) projected
  line L39 (14, 25) -> (8.95, 25) projected
  line L40 (8.95, 25) -> (8.95, 24.15) projected
  line L41 (8.95, 24.15) -> (11.3, 24.15) projected
  line L42 (11.3, 24.15) -> (11.3, 21.15) projected
  line L43 (11.3, 21.15) -> (12.15, 21.15) projected
  line L44 (12.15, 21.15) -> (12.15, 14.85) projected
  line L45 (12.15, 14.85) -> (11.3, 14.85) projected
  line L46 (11.3, 14.85) -> (11.3, 9.15) projected
  line L47 (11.3, 9.15) -> (12.15, 9.15) projected
  line L48 (12.15, 9.15) -> (12.15, 2.85) projected
  line L49 (12.15, 2.85) -> (11.3, 2.85) projected
  line L50 (11.3, 2.85) -> (11.3, -2.85) projected
  line L51 (11.3, -2.85) -> (12.15, -2.85) projected
  line L52 (12.15, -2.85) -> (12.15, -9.15) projected
  line L53 (12.15, -9.15) -> (11.3, -9.15) projected
  line L54 (11.3, -9.15) -> (11.3, -14.85) projected
  line L55 (11.3, -14.85) -> (12.15, -14.85) projected
  line L56 (12.15, -14.85) -> (12.15, -21.15) projected
  line L57 (12.15, -21.15) -> (11.3, -21.15) projected
  line L58 (14.85, -33.65) -> (14.85, 33.65) projected
  line L59 (14.85, 33.65) -> (29.15, 33.65) projected
  line L60 (29.15, 33.65) -> (29.15, 21.2895) projected
  line L61 (29.15, 21.2895) -> (37.55, 21.2895) projected
  line L62 (37.55, 21.2895) -> (37.55, 27.55) projected
  arc A8 (37.55, 27.55) -> (27.55, 37.55) centre (27.55, 27.55) ccw projected
  line L63 (27.55, 37.55) -> (-27.55, 37.55) projected
  arc A9 (-27.55, 37.55) -> (-37.55, 27.55) centre (-27.55, 27.55) ccw projected
  line L64 (-37.55, 27.55) -> (-37.55, -27.55) projected
  arc A10 (-37.55, -27.55) -> (-27.55, -37.55) centre (-27.55, -27.55) ccw projected
  line L65 (-27.55, -37.55) -> (27.55, -37.55) projected
  arc A11 (27.55, -37.55) -> (37.55, -27.55) centre (27.55, -27.55) ccw projected
  line L66 (37.55, -27.55) -> (37.55, -21.2895) projected
  line L67 (37.55, -21.2895) -> (29.15, -21.2895) projected
  line L68 (29.15, -21.2895) -> (29.15, -33.65) projected
  line L69 (29.15, -33.65) -> (27, -33.65) projected
  line L70 (27, -33.65) -> (27, -35) projected
  line L71 (27, -35) -> (17, -35) projected
  line L72 (17, -35) -> (17, -33.65) projected
  line L73 (17, -33.65) -> (14.85, -33.65) projected
  line L74 (-17.55, 24.15) -> (-17.55, 37.55)
  line L75 (-27.55, 37.55) -> (-27.55, 20.15)
  line L76 (-11.3, 24.15) -> (-17.55, 24.15)
  line L77 (-13.7, 12.85) -> (-13.7, -12.85)
  line L78 (-11.3, 12.85) -> (-11.3, 9.15)
  line L79 (-11.3, 9.15) -> (-12.15, 9.15)
  line L80 (-12.15, 9.15) -> (-12.15, -9.15)
  line L81 (-12.15, -9.15) -> (-11.3, -9.15)
  line L82 (-11.3, -9.15) -> (-11.3, -12.85)
  line L83 (-11.15, 0) -> (-11.15, 24) projected
  line L84 (-12, 3) -> (-12, 9) projected
  line L85 (-11.15, 3) -> (-12, 3) projected
  line L86 (-11.15, 0) -> (-11.15, -24) projected
  line L87 (-11.15, -3) -> (-12, -3) projected
  line L88 (-12, -3) -> (-12, -9) projected
  line L89 (-12, -9) -> (-11.15, -9) projected
  line L90 (-12.15, 2.85) -> (-11.3, 2.85)
  line L91 (-11.3, 2.85) -> (-11.3, -2.85)
  line L92 (-11.3, -2.85) -> (-12.15, -2.85)
  line L93 (-12, 9) -> (-11.15, 9) projected
  line L94 (55.4695, 0) -> (-55.4695, 0) construction
  line L95 (-17.55, -24.15) -> (-17.55, -37.55)
  line L96 (-27.55, -37.55) -> (-27.55, -20.15)
  line L97 (-11.3, -24.15) -> (-17.55, -24.15)
  line L98 (-22.55, 37.55) -> (-22.55, -37.55)
  line L99 (-17.55, 24.15) -> (-22.55, 24.15)
  line L100 (-17.55, -24.15) -> (-37.55, -24.15)
  line L101 (-22.55, 24.15) -> (-37.55, 24.15)
  line L102 (-34, -20.15) -> (-37.55, -20.15)
  line L103 (-34, 20.15) -> (-37.55, 20.15)
  line L104 (-27.55, 30.15) -> (-17.55, 30.15)
  line L105 (-27.55, 24.95) -> (-17.55, 24.95)
  line L106 (-27.55, 30.15) -> (-27.55, 24.95)
  line L107 (-17.55, 24.95) -> (-17.55, 30.15)
  line L108 (-17.55, 27.55) -> (-27.55, 27.55) construction
  line L109 (-27.55, -27.55) -> (-17.55, -27.55) construction
  line L110 (-27.55, -30.15) -> (-17.55, -30.15)
  line L111 (-27.55, -24.95) -> (-17.55, -24.95)
  point P0 (0, 0)
  point P1 (-27.55, 24.15)
  point P2 (-27.55, -24.15)
  point P3 (-22.55, 30.15)
  point P4 (-22.55, 24.95)
  point P5 (-22.55, -24.95)
  point P6 (-22.55, -30.15)
  point P7 (-17.55, -24.95)
  dimension "d142" = 10
  dimension "d143" = 0.15
  dimension "d144" = 0.15
  dimension "d145" = 0.15
  dimension "d146" = 0.15
  dimension "d147" = 0.15
  dimension "d148" = 0.15
  dimension "d150" = 5
  dimension "d153" = 5.2
  dimension "d155" = 5.2
  dimension "d162" = 10
  dimension "d163" = 10
  dimension "d164" = 2.6
extrude "押し出し26" cut sketch "スケッチ13" against normal blind 10 from surface at 33.5 contours L97 L100 L98 L17 L16 L15 L14 L13 L12 L11 L10 | L100 L96 L17 L98 | L100 L64 L102 L17 L96 | L96 A10 L64 L100 | L98 L99 L76 L32 L31 L30 L29 L28 L27 L26 L25 | L25 L75 L101 L98 | L15 L77 L27 L78 L79 L80 L81 L82 | L25 L103 L64 L101 L75 | L101 L64 A9 L75 | L80 L90 L91 L92
extrude "押し出し27" cut sketch "スケッチ13" against normal blind 7.8 from surface at 33.5 contours L95 L110 L98 L111 | L98 L104 L74 L105
sketch "スケッチ14" plane through (27.55, 33.5, 37.55) normal (1, 0, 0) x (0, 0, -1)
  line L0 (0, 0) -> (0, -10) projected
  line L1 (0, 0) -> (13.4, 0) projected
  line L2 (0, -10) -> (13.4, -10) projected
  line L3 (13.4, -10) -> (13.4, 0) projected
  line L4 (0, 0) -> (13.4, -10) construction
  line L5 (0, -10) -> (13.4, 0) construction
  line L6 (37.55, -40.2) -> (37.55, 6.7) construction
  line L7 (0, -5) -> (13.4, -5) construction
  circle A0 centre (10, -5) radius 1.35
  circle A1 centre (65.1, -5) radius 1.35
  circle A2 centre (10, -5) radius 3
  circle A3 centre (65.1, -5) radius 3
  point P0 (37.55, -33.5)
  dimension "d165" = 2.7
  dimension "d166" = 10
  dimension "d179" = 6
  dimension "d180" = 6
extrude "押し出し29" cut sketch "スケッチ14" against normal up to surface (5 mm away) contours A0 | A1
extrude "押し出し30" cut sketch "スケッチ1" along normal up to surface (33.5 mm away) contours L106 L56 L64 L62 | L35 L37 L12 L109 | L64 L56 L66 L62 | L35 L39 L12 L37 | L66 L56 L107 L62 | L35 L108 L12 L39
extrude "押し出し31" cut sketch "スケッチ1" along normal up to surface (33.5 mm away) contours L112 L113 L56 L106 | L109 L12 L117 L116 | L107 L56 L110 L111 | L115 L114 L12 L108
sketch "スケッチ15" plane through (13.7, 23.5, -20.15) normal (0, 1, 0) x (1, 0, 0)
  line L0 (0.3, -44.15) -> (0.3, -44.3) projected
  line L1 (13.85, -44.3) -> (0.3, -44.3) projected
  line L2 (13.85, -57.7) -> (13.85, -44.3) projected
  arc A0 (13.85, -57.7) -> (23.85, -47.7) centre (13.85, -47.7) ccw projected
  line L3 (23.85, -47.7) -> (23.85, -40.3) projected
  line L4 (20.3, -40.3) -> (23.85, -40.3) projected
  line L5 (20.3, -40.3) -> (0, -40.3) projected
  line L6 (0, -40.3) -> (0, -33) projected
  line L7 (0, -33) -> (-2.4, -33) projected
  line L8 (-2.4, -33) -> (-2.4, -35) projected
  line L9 (-2.4, -35) -> (-1.55, -35) projected
  line L10 (-1.55, -35) -> (-1.55, -41.3) projected
  line L11 (-1.55, -41.3) -> (-2.4, -41.3) projected
  line L12 (-2.4, -41.3) -> (-2.4, -44.15) projected
  line L13 (-2.4, -44.15) -> (0.3, -44.15) projected
  circle A1 centre (17.4127, -51.2627) radius 1.35 projected
  line L14 (0.3, 3.85) -> (-2.4, 3.85) projected
  line L15 (-2.4, 3.85) -> (-2.4, 1) projected
  line L16 (-2.4, 1) -> (-1.55, 1) projected
  line L17 (-1.55, 1) -> (-1.55, -5.3) projected
  line L18 (-1.55, -5.3) -> (-2.4, -5.3) projected
  line L19 (-2.4, -5.3) -> (-2.4, -7.3) projected
  line L20 (-2.4, -7.3) -> (0, -7.3) projected
  line L21 (0, -7.3) -> (0, 0) projected
  line L22 (0, 0) -> (20.3, 0) projected
  line L23 (23.85, 0) -> (20.3, 0) projected
  line L24 (23.85, 0) -> (23.85, 7.4) projected
  arc A2 (23.85, 7.4) -> (13.85, 17.4) centre (13.85, 7.4) ccw projected
  line L25 (13.85, 4) -> (13.85, 17.4) projected
  line L26 (0.3, 4) -> (13.85, 4) projected
  line L27 (0.3, 4) -> (0.3, 3.85) projected
  circle A3 centre (17.4127, 10.9627) radius 1.35 projected
  line L28 (0, -33) -> (0, -7.3)
  line L29 (-2.4, -29.3) -> (-2.4, -33) projected
  line L30 (-1.55, -29.3) -> (-2.4, -29.3) projected
  line L31 (-1.55, -23) -> (-1.55, -29.3) projected
  line L32 (-2.4, -23) -> (-1.55, -23) projected
  line L33 (-2.4, -17.3) -> (-2.4, -23) projected
  line L34 (-1.55, -17.3) -> (-2.4, -17.3) projected
  line L35 (-1.55, -11) -> (-1.55, -17.3) projected
  line L36 (-2.4, -11) -> (-1.55, -11) projected
  line L37 (-2.4, -7.3) -> (-2.4, -11) projected
  point P0 (-13.7, -20.15)
extrude "押し出し32" cut sketch "スケッチ1" along normal through all contours L3 L2 L1 L0 | L9 L8 L7 L24 L88 L87 L86 L20 L53 L54 L55 L116 L117 L13 L14 L15 L114 L115 L21 L47 L48 L49 L44 L43 L42 L61 L67 L68 L69 L70 L71 L72 L111 L110 L59 L58 L57 L113 L112 L60 L78 L76 L77 L22 L85 L6 | L22 L88 A2 A15 A3 L24 L7 | L88 L85 L86 L22 | L22 L86 A1 A0 L24 L88 A3 A15 A2 | L24 L86 L87 L88 | L22 L60 L75 L73 L74 L20 L50 L51 L52 L24 L86 A0 A1 | L88 A2 | A2 L88 | L88 A3 | A3 L88 | L60 L62 L61 L21 L35 L20 | L86 A1 | A1 L86 | L86 A0 | A0 L86 | L60 L74 L73 L75 | L77 L76 L78 L60 | A15 L88 A14 | L88 A14 A15 | L52 L51 L50 L20 | L20 L55 L54 L53 | A14 L88 | L88 A14 | L106 L56 L64 L62 | L112 L113 L56 L106 | L35 L37 L12 L109 | L109 L12 L117 L116 | L64 L56 L66 L62 | L56 L57 L58 L59 L66 L65 L64 | L35 L39 L12 L37 | L12 L37 L38 L39 L15 L14 L13 | L66 L56 L107 L62 | L64 L65 L66 L56 | L35 L108 L12 L39 | L12 L39 L38 L37 | L107 L56 L110 L111 | L115 L114 L12 L108 | L72 L71 L70 L61 | L21 L49 L48 L47 | L69 L68 L67 L61 | L21 L42 L43 L44 | L79 A11 L80 L81 A10 L82 | A11 L79 | L79 A11 | L81 A10 L99 L100 | A10 L81 | L81 A10 L99 | L81 L102 L99 A10 | L99 A10 | A4 | A5 | A6 | A7 | A8 | A9 | A12 | A13 | L93 L94 L95 L96
extrude "押し出し33" add sketch "スケッチ15" along normal blind 10
extrude "押し出し34" cut sketch "スケッチ14" along normal blind 10 contours A0 | A1
extrude "押し出し35" cut sketch "スケッチ14" against normal blind 4 from surface at 10 contours A0 | A1 | A2 | A3
sketch "スケッチ16" plane through (12.15, 23.5, 2.85) normal (-1, 0, 0) x (0, 0, 1)
  line L0 (-55.42, -23.5) -> (49.72, -23.5) construction
  line L1 (-2.85, -30.2) -> (-2.85, 16.7) construction
  line L2 (-55.42, 5.5) -> (49.72, 5.5) construction
  circle A0 centre (-8.85, 5.5) radius 2
  circle A1 centre (3.15, 5.5) radius 2
  circle A2 centre (15.15, 5.5) radius 2
  circle A3 centre (-20.85, 5.5) radius 2
  circle A4 centre (-8.85, 5.5) radius 2
  circle A5 centre (3.15, 5.5) radius 2
  point P0 (-2.85, -23.5)
  dimension "d183" = 29
  dimension "d184" = 4
  dimension "d185" = 6
  dimension "d188" = 12
  dimension "d191" = 12
extrude "押し出し36" add sketch "スケッチ16" along normal blind 2.8
chamfer "面取り1" distance 0.3 angle 45 4 edges at (9.35, 29, -20) (9.35, 29, -8) (9.35, 29, 4) (9.35, 29, 16)
fillet "フィレット2" radius 5 2 edges at (13.7, 28.5, -20.15) (13.7, 28.5, 20.15)
properties part number "enclosure"
